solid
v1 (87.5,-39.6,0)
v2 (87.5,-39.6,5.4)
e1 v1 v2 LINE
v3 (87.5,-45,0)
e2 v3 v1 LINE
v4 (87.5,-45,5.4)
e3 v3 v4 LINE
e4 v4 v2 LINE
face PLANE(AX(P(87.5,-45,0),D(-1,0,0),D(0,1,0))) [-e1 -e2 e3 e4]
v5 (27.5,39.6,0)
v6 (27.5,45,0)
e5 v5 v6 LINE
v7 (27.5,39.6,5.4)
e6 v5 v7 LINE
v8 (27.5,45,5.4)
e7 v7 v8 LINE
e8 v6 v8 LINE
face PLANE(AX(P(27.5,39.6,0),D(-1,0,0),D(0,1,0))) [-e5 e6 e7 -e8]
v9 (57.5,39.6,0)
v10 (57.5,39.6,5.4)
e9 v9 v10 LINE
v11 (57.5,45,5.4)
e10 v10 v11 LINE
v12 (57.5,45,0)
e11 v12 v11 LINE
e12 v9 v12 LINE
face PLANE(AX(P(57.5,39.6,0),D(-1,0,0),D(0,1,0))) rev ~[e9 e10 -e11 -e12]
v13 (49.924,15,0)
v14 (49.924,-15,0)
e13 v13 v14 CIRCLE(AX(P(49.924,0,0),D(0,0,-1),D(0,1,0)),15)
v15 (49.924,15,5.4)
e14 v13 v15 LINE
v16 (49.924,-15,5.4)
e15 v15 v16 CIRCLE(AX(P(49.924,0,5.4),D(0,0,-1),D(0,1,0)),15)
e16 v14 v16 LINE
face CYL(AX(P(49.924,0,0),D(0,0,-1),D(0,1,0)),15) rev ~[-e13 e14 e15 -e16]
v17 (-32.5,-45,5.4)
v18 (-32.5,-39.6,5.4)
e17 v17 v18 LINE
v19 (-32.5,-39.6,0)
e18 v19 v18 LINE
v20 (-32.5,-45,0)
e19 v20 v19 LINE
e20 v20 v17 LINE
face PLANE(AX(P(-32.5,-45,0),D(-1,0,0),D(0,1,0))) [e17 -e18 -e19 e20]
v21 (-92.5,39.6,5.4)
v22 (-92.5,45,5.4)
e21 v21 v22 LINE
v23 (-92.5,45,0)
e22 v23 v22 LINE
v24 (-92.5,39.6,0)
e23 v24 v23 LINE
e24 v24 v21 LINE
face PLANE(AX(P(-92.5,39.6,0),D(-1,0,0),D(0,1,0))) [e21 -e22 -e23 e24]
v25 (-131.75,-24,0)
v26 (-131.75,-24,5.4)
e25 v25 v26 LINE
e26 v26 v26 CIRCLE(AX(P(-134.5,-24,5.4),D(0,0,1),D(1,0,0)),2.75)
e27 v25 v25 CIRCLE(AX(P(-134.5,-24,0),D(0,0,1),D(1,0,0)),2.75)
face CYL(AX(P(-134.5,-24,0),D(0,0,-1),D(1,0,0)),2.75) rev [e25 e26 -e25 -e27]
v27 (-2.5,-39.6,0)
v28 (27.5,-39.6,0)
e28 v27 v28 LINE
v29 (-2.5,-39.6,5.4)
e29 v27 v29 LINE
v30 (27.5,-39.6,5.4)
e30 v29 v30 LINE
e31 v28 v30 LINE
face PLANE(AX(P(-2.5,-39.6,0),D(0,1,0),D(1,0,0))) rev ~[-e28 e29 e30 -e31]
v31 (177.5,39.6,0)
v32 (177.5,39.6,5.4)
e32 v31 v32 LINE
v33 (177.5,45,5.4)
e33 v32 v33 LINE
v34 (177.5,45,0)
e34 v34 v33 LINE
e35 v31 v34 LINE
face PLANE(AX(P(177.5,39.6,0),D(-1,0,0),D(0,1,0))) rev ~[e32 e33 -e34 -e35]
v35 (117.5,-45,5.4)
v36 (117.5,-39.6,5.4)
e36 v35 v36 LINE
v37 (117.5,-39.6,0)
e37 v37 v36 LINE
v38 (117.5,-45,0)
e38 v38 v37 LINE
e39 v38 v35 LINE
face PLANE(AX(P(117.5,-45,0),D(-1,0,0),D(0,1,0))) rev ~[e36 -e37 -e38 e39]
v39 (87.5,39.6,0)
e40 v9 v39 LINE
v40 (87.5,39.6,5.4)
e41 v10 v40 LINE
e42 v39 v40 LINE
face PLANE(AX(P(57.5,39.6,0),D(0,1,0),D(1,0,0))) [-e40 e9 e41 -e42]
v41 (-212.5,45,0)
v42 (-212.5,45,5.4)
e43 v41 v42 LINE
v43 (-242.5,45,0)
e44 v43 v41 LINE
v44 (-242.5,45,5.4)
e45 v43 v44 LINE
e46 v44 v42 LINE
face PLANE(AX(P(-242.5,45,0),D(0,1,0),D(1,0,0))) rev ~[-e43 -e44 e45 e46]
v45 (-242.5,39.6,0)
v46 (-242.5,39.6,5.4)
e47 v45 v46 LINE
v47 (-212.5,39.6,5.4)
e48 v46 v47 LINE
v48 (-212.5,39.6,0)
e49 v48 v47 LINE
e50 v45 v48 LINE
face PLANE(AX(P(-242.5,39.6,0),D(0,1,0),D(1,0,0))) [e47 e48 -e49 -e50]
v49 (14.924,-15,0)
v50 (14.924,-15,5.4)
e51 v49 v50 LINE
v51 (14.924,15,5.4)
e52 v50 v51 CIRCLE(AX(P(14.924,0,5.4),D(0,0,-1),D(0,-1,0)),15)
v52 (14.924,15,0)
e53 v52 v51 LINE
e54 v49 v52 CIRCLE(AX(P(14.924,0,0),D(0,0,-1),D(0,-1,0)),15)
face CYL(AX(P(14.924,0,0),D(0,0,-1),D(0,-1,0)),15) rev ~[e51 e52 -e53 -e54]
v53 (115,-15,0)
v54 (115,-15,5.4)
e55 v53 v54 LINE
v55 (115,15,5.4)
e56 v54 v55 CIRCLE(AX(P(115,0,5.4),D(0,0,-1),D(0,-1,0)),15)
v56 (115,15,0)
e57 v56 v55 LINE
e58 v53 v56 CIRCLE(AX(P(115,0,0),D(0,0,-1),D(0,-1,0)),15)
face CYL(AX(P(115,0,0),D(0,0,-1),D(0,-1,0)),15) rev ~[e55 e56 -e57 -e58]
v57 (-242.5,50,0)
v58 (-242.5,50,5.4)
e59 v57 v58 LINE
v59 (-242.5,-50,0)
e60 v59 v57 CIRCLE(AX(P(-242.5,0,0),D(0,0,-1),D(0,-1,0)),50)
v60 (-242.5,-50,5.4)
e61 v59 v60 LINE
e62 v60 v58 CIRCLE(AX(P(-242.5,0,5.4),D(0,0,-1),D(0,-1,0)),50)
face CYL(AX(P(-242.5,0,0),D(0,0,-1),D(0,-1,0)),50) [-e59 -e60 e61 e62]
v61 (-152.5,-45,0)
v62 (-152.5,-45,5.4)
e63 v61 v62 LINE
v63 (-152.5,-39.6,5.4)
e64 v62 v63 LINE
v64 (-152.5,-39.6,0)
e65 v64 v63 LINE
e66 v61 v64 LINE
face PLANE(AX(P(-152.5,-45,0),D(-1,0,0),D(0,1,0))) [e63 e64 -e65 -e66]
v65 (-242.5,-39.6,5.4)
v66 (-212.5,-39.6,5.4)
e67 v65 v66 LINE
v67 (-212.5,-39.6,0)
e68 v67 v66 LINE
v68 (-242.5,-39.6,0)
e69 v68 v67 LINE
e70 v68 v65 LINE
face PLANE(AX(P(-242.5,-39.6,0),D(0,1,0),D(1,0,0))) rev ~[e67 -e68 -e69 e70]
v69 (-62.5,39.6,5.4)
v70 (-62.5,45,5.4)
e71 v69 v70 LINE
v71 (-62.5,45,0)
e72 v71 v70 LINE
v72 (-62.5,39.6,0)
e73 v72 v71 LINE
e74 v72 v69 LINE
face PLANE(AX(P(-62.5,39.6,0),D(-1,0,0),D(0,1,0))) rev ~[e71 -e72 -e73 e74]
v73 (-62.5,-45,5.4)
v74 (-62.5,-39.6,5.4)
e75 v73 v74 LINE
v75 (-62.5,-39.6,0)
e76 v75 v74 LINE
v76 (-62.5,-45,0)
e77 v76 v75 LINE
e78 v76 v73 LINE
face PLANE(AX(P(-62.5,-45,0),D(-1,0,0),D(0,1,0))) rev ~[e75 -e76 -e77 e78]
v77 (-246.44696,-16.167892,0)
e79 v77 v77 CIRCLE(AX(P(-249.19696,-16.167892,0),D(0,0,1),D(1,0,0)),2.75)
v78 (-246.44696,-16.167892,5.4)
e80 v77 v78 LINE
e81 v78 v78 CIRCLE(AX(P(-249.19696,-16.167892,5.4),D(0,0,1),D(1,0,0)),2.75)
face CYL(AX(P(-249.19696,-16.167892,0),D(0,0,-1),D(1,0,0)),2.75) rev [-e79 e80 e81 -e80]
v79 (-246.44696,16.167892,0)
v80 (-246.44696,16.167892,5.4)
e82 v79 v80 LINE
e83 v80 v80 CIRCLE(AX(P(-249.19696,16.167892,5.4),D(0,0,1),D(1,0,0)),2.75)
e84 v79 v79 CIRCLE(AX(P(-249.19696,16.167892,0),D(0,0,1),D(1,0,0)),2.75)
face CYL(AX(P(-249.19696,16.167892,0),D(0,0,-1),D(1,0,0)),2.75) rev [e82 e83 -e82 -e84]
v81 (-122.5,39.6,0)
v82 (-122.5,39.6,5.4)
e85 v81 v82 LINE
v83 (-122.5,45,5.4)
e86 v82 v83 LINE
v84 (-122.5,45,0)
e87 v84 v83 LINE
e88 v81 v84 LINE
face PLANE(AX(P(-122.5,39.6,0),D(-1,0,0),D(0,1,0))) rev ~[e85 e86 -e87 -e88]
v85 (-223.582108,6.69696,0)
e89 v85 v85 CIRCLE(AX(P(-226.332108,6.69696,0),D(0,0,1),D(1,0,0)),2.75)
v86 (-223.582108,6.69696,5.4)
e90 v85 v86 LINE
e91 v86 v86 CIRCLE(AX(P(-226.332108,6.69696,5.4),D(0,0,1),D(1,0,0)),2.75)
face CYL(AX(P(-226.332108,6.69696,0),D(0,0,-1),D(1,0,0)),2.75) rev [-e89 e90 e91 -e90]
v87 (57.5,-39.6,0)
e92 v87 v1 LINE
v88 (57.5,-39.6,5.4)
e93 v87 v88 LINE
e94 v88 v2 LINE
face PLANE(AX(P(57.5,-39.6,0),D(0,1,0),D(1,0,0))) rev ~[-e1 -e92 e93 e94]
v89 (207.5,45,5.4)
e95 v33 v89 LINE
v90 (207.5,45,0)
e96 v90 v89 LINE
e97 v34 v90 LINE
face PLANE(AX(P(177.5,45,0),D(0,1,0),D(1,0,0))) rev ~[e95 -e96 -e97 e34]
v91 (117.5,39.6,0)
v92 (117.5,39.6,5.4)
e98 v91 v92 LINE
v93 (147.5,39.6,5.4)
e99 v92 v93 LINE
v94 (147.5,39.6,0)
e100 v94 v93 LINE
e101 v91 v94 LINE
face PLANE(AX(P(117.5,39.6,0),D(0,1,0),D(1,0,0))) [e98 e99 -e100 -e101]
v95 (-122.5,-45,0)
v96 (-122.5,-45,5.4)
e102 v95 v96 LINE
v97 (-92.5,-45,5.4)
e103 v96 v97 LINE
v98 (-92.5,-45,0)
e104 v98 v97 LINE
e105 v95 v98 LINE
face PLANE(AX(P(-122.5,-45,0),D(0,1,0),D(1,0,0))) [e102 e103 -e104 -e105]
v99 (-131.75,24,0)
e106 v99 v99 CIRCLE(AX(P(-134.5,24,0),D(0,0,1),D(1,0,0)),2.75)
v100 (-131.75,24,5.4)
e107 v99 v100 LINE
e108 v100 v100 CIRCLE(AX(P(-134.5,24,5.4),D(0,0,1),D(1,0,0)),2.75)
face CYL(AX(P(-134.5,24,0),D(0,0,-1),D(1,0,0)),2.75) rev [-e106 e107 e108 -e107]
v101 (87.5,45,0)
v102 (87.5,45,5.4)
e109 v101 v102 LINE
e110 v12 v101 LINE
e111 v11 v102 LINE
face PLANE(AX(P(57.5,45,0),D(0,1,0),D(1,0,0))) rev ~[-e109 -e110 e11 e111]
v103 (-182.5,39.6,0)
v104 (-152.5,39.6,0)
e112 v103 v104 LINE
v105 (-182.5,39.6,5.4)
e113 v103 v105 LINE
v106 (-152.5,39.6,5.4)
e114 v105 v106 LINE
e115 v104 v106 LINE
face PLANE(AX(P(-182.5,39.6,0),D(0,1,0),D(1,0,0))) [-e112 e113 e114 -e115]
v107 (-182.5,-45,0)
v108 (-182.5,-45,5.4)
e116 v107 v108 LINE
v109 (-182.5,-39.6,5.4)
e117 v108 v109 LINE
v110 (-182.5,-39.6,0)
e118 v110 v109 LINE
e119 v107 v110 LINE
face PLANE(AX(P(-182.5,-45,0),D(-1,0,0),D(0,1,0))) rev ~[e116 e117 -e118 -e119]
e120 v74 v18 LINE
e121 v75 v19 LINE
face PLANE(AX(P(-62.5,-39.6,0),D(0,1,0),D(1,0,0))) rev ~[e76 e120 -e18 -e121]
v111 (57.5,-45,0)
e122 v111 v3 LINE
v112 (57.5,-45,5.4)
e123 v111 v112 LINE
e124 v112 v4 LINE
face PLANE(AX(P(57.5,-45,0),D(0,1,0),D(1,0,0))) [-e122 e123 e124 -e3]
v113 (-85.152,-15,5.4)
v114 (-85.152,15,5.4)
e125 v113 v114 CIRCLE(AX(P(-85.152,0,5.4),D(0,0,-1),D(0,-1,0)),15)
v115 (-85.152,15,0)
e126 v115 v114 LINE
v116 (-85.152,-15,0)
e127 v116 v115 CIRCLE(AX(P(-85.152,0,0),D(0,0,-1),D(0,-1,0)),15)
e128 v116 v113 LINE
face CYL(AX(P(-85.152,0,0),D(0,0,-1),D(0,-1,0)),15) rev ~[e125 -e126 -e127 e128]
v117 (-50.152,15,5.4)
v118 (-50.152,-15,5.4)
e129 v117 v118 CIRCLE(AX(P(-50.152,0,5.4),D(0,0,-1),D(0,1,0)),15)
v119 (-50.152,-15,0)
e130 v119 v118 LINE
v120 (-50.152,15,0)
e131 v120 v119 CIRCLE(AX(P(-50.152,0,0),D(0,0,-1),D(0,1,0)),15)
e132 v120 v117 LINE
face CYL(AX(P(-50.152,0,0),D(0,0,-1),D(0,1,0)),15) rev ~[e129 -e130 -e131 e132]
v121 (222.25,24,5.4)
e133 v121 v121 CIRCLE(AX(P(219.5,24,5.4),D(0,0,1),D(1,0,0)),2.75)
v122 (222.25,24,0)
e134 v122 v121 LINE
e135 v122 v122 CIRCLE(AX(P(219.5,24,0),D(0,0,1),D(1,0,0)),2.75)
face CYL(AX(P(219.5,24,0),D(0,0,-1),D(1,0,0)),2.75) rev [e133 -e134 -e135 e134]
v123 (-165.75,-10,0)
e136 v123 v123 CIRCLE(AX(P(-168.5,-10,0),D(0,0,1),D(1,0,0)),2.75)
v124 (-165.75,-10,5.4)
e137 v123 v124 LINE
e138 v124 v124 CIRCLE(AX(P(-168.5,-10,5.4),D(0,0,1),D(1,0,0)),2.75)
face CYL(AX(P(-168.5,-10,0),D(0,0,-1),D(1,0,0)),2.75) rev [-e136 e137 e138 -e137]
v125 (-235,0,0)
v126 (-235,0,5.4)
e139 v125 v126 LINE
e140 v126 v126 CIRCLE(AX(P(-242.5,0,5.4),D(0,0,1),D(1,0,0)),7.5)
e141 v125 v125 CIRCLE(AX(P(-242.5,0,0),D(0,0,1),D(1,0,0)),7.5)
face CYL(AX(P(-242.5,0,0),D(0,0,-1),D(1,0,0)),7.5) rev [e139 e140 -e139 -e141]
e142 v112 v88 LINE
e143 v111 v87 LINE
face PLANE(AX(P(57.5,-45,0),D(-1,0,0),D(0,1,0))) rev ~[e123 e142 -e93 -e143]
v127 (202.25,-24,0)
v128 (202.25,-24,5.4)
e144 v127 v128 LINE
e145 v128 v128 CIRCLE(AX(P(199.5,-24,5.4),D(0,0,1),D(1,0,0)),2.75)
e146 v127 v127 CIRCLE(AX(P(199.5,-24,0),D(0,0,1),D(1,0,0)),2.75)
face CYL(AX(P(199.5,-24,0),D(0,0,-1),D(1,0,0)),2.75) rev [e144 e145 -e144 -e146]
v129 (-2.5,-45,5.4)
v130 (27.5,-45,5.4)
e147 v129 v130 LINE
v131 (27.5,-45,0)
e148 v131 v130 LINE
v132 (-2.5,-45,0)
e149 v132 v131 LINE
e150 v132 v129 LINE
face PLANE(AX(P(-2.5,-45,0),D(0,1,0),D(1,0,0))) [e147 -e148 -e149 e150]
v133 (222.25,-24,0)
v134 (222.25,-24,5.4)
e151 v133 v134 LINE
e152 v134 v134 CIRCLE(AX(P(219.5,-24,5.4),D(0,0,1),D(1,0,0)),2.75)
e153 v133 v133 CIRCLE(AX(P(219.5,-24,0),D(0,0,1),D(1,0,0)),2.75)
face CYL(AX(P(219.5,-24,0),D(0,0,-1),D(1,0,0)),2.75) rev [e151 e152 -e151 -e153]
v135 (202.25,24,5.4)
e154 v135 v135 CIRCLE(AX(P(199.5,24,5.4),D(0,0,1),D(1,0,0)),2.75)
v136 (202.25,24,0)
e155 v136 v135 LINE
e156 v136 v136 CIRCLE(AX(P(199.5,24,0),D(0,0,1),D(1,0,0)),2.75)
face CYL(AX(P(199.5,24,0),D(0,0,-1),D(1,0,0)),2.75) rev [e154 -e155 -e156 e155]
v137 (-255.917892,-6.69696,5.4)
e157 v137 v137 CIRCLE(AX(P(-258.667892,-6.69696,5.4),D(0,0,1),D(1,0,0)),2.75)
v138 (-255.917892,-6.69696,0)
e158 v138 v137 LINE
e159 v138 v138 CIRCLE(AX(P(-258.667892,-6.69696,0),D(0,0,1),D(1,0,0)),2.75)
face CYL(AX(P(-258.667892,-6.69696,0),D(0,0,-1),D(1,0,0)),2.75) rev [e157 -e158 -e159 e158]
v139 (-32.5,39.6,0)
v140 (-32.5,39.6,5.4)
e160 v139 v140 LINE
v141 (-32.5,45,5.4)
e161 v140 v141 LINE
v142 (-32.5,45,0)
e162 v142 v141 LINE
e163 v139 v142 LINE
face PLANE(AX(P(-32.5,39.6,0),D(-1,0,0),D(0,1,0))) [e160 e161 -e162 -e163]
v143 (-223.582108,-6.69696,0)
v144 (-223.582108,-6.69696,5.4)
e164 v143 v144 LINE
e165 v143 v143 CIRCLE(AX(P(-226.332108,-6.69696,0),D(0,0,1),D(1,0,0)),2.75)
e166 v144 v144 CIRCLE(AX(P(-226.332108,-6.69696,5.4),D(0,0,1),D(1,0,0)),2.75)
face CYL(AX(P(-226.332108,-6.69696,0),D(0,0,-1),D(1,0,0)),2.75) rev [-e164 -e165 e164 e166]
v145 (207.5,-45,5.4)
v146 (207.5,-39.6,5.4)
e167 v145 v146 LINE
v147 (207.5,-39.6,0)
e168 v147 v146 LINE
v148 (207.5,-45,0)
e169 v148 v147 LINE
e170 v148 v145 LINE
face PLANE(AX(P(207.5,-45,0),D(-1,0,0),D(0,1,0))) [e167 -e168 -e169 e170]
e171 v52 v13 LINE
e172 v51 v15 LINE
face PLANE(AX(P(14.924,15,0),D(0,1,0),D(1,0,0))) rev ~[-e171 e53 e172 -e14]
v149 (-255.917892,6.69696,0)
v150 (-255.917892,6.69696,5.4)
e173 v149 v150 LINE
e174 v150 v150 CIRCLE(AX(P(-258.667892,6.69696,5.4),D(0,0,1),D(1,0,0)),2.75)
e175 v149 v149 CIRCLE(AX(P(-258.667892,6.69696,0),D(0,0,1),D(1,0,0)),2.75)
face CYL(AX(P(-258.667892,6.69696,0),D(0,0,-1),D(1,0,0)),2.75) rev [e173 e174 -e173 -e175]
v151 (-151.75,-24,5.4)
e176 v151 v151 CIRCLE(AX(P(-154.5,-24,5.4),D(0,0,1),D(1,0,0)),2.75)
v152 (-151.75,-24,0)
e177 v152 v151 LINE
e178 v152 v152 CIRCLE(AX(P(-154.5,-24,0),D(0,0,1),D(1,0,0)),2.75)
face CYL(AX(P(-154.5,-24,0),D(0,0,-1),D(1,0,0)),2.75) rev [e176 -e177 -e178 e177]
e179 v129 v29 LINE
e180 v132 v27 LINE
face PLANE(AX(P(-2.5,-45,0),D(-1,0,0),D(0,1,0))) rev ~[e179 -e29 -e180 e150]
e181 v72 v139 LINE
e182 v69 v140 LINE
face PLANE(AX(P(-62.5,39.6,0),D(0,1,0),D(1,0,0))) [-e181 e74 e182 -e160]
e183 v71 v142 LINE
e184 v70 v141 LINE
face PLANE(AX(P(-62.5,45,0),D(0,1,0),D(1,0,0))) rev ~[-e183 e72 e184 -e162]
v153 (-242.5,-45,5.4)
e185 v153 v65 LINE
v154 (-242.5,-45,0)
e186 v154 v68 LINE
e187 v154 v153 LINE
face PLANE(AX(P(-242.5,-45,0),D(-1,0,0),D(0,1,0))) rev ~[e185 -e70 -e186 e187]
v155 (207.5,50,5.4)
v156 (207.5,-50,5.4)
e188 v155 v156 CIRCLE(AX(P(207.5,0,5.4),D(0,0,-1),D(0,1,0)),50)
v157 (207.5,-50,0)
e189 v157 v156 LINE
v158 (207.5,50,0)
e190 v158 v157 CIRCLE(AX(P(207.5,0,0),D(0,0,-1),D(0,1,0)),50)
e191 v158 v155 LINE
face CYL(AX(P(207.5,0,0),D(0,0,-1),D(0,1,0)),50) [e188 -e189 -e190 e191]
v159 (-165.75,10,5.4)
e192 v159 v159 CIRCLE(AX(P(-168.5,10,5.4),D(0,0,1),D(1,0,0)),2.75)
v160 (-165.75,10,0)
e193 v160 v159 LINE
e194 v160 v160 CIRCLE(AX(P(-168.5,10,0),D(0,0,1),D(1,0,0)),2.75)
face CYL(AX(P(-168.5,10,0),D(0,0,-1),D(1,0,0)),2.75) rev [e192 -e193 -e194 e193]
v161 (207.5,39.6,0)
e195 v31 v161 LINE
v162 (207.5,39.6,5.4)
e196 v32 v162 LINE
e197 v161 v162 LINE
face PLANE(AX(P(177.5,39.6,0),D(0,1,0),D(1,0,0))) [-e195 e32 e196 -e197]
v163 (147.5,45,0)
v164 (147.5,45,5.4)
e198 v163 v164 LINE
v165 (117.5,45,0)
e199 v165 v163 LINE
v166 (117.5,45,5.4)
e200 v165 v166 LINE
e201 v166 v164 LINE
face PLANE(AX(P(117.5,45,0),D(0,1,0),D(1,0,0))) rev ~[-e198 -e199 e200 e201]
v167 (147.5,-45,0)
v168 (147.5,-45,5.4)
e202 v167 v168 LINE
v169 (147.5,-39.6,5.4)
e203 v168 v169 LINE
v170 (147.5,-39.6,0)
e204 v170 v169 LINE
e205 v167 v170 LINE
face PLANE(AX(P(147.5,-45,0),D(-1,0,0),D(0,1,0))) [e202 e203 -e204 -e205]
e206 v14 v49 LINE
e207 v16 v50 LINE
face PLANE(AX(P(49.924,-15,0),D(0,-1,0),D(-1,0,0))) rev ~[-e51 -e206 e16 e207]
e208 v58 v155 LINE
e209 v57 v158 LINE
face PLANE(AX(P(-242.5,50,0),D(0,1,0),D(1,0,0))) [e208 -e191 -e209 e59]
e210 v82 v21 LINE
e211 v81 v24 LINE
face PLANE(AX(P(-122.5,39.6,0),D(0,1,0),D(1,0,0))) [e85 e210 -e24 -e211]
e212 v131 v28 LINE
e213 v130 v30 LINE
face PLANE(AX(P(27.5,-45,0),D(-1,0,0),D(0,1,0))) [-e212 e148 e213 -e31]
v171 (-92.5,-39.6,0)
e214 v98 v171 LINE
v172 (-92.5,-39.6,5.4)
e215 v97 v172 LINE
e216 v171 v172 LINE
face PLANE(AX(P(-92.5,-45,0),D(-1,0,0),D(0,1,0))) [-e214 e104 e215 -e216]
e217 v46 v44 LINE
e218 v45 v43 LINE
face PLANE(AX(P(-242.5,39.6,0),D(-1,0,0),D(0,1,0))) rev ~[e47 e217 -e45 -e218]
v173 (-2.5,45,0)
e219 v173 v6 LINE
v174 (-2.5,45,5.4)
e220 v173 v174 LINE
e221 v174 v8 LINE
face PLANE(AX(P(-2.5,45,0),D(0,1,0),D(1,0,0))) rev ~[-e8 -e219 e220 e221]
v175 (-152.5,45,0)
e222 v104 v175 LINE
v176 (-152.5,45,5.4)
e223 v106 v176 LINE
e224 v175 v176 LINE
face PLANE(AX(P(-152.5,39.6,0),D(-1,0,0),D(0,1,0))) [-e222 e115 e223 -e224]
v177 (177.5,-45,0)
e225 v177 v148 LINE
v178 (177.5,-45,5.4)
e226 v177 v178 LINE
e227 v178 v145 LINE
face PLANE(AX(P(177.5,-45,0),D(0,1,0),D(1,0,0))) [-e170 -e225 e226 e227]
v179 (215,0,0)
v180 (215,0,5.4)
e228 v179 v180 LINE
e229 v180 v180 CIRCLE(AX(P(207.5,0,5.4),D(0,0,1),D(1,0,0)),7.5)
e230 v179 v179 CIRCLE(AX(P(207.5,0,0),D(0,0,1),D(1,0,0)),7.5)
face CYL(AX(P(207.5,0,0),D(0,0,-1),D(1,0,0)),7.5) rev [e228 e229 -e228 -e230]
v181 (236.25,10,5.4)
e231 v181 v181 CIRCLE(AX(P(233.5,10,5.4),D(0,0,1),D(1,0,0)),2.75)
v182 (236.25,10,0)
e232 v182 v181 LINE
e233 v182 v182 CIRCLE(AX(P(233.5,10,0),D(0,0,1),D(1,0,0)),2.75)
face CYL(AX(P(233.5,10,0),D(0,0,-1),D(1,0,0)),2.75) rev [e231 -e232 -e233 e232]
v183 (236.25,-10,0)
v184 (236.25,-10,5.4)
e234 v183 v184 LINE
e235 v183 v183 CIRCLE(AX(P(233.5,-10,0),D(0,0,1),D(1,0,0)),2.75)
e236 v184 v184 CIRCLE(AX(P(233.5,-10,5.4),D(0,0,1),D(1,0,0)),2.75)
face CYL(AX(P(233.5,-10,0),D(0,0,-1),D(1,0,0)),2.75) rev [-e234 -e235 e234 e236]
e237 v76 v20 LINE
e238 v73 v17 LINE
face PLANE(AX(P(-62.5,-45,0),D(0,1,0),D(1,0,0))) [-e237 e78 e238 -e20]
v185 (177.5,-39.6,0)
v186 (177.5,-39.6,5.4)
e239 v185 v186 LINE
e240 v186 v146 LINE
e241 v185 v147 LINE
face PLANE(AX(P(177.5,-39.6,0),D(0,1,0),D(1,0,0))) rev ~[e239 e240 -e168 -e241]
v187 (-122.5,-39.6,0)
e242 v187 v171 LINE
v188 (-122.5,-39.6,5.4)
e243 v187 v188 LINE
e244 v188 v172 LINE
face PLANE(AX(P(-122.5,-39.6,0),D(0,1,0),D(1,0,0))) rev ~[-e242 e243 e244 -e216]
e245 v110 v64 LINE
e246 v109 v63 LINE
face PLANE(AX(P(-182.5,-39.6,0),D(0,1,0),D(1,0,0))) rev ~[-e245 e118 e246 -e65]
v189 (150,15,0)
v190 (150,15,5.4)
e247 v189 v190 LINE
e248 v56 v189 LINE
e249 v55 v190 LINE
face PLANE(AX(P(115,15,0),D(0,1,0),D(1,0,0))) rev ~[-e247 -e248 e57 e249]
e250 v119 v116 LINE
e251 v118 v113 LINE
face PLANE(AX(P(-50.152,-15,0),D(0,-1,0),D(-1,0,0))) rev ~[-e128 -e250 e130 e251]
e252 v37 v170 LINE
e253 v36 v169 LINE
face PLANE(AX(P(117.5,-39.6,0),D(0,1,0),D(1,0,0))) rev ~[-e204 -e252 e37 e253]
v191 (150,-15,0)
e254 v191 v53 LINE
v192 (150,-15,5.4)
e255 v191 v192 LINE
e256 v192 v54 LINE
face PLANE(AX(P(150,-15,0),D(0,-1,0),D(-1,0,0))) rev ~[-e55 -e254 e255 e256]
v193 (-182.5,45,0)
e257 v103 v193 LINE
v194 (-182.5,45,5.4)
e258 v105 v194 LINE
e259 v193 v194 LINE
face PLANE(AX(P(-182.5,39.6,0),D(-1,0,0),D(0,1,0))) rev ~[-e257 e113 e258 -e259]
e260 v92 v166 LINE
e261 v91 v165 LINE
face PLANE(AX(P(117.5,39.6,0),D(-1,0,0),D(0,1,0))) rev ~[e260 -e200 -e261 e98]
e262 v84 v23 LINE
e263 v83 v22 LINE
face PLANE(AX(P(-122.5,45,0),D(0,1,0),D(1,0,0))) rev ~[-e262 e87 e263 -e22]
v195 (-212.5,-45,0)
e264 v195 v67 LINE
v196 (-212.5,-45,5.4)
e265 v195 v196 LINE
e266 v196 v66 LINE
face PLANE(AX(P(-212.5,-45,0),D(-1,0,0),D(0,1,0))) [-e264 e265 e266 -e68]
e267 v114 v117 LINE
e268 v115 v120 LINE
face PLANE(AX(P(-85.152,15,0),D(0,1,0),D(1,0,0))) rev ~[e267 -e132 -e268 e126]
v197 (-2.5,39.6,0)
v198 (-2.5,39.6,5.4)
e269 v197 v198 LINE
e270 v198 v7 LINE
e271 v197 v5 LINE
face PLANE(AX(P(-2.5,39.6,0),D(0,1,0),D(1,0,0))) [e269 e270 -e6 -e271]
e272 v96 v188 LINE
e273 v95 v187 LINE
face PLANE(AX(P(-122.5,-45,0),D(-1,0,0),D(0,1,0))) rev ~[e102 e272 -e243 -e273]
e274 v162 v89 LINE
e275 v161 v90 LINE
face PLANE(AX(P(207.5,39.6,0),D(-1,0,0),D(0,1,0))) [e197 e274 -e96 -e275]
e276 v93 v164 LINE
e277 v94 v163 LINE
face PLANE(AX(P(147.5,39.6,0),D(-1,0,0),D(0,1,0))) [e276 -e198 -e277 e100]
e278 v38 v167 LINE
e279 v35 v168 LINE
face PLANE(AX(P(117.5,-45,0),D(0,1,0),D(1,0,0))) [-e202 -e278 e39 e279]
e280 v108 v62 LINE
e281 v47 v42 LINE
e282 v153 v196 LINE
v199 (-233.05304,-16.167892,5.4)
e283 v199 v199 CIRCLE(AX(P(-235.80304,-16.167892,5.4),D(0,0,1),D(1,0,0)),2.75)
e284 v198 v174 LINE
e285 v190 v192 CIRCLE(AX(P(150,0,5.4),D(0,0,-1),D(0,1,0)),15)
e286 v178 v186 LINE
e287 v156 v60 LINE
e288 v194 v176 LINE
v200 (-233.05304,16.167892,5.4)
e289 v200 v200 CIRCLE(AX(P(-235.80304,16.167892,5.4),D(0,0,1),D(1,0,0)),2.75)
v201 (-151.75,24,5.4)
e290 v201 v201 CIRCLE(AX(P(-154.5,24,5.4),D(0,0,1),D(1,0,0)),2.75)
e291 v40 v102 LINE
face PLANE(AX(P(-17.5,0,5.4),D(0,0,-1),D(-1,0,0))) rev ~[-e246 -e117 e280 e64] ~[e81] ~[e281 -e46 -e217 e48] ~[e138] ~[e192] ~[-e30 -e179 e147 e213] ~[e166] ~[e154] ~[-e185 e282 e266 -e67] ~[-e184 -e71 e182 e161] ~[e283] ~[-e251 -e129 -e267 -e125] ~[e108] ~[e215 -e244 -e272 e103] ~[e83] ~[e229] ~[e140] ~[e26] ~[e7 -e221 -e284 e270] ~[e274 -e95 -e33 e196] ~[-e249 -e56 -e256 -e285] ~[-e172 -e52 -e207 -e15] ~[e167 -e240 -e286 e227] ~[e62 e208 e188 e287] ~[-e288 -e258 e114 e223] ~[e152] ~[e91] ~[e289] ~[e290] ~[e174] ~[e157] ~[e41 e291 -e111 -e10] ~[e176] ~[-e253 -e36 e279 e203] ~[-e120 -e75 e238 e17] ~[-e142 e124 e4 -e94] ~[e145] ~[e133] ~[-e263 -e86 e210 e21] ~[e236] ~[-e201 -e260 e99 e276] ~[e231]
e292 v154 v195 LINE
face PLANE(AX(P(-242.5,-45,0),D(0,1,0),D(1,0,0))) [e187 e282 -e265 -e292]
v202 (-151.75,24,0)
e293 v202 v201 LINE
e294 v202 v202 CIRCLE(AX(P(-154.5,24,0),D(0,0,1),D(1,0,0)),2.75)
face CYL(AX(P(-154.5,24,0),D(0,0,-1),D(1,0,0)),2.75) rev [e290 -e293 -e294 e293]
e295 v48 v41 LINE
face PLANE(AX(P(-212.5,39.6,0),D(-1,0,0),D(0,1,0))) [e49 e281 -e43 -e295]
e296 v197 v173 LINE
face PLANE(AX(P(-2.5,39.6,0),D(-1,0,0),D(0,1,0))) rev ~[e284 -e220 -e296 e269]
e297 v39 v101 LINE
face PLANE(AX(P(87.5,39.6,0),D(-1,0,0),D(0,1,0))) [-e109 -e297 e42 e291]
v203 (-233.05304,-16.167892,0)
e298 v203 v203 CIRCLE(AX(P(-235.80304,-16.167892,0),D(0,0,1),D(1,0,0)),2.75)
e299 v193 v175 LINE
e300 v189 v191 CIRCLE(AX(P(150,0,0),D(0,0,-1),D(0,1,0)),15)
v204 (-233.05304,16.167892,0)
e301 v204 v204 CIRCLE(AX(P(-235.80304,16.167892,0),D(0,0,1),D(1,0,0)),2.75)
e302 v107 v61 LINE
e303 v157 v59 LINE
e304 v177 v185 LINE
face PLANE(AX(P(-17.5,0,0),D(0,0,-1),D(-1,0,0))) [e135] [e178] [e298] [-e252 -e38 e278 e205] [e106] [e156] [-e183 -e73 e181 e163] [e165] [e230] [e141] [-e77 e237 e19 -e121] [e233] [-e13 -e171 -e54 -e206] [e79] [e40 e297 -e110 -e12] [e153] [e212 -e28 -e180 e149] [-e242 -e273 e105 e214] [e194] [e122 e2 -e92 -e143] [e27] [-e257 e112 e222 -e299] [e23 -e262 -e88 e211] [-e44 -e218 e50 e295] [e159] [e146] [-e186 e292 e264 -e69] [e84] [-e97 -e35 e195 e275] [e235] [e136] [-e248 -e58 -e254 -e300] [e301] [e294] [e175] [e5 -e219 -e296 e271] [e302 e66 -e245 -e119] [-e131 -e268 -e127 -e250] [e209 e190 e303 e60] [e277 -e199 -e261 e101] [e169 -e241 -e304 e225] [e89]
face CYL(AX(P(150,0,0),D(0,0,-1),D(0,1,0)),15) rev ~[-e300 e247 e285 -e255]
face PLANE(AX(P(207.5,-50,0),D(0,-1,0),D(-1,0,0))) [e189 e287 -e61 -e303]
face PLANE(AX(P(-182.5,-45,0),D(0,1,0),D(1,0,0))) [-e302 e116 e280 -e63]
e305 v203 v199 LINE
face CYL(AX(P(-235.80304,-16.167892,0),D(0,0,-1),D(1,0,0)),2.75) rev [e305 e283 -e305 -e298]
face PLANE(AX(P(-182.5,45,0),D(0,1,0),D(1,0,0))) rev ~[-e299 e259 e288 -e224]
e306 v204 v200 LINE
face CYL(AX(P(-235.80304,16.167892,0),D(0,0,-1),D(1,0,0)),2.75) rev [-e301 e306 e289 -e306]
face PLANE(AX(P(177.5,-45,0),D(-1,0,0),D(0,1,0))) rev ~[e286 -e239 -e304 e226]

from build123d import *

# Parameters (mm, degrees)
SKETCH3_R           = 7.5
SKETCH3_R_2         = 2.75
SKETCH3_W           = 30
SKETCH3_H           = 5.4
BOSS_EXTRUDE1_DEPTH = 5.4


with BuildPart() as part:
    # Sketch3 → Boss-Extrude1 (new body)
    with BuildSketch(Plane.XY):
        with BuildLine():
            Line((-242.5, 50), (207.5, 50))
            ThreePointArc((207.5, 50), (257.5, 0), (207.5, -50))
            Line((207.5, -50), (-242.5, -50))
            ThreePointArc((-242.5, -50), (-292.5, 0), (-242.5, 50))
        make_face()
        with Locations((-242.5, 0)):
            Circle(SKETCH3_R, mode=Mode.SUBTRACT)
        with Locations((207.5, 0)):
            Circle(SKETCH3_R, mode=Mode.SUBTRACT)
        with Locations((-226.332108181, 6.696960066)):
            Circle(SKETCH3_R_2, mode=Mode.SUBTRACT)
        with Locations((-226.332108181, -6.696960066)):
            Circle(SKETCH3_R_2, mode=Mode.SUBTRACT)
        with Locations((-235.803039934, -16.167891819)):
            Circle(SKETCH3_R_2, mode=Mode.SUBTRACT)
        with Locations((-249.196960066, -16.167891819)):
            Circle(SKETCH3_R_2, mode=Mode.SUBTRACT)
        with Locations((-258.667891819, -6.696960066)):
            Circle(SKETCH3_R_2, mode=Mode.SUBTRACT)
        with Locations((-258.667891819, 6.696960066)):
            Circle(SKETCH3_R_2, mode=Mode.SUBTRACT)
        with Locations((-249.196960066, 16.167891819)):
            Circle(SKETCH3_R_2, mode=Mode.SUBTRACT)
        with Locations((-235.803039934, 16.167891819)):
            Circle(SKETCH3_R_2, mode=Mode.SUBTRACT)
        with Locations((-134.5, -24)):
            Circle(SKETCH3_R_2, mode=Mode.SUBTRACT)
        with Locations((-154.5, -24)):
            Circle(SKETCH3_R_2, mode=Mode.SUBTRACT)
        with Locations((-168.5, -10)):
            Circle(SKETCH3_R_2, mode=Mode.SUBTRACT)
        with Locations((-168.5, 10)):
            Circle(SKETCH3_R_2, mode=Mode.SUBTRACT)
        with Locations((-154.5, 24)):
            Circle(SKETCH3_R_2, mode=Mode.SUBTRACT)
        with Locations((-134.5, 24)):
            Circle(SKETCH3_R_2, mode=Mode.SUBTRACT)
        with Locations((199.5, -24)):
            Circle(SKETCH3_R_2, mode=Mode.SUBTRACT)
        with Locations((219.5, -24)):
            Circle(SKETCH3_R_2, mode=Mode.SUBTRACT)
        with Locations((233.5, -10)):
            Circle(SKETCH3_R_2, mode=Mode.SUBTRACT)
        with Locations((233.5, 10)):
            Circle(SKETCH3_R_2, mode=Mode.SUBTRACT)
        with Locations((219.5, 24)):
            Circle(SKETCH3_R_2, mode=Mode.SUBTRACT)
        with Locations((199.5, 24)):
            Circle(SKETCH3_R_2, mode=Mode.SUBTRACT)
        with BuildLine():
            Line((115, 15), (150, 15))
            ThreePointArc((150, 15), (165, 0), (150, -15))
            Line((150, -15), (115, -15))
            ThreePointArc((115, -15), (100, 0), (115, 15))
        make_face(mode=Mode.SUBTRACT)
        with Locations((-227.5, 42.3)):
            Rectangle(SKETCH3_W, SKETCH3_H, mode=Mode.SUBTRACT)
        with Locations((-167.5, 42.3)):
            Rectangle(SKETCH3_W, SKETCH3_H, mode=Mode.SUBTRACT)
        with BuildLine():
            Line((14.924, 15), (49.924, 15))
            ThreePointArc((49.924, 15), (64.924, 0), (49.924, -15))
            Line((49.924, -15), (14.924, -15))
            ThreePointArc((14.924, -15), (-0.076, 0), (14.924, 15))
        make_face(mode=Mode.SUBTRACT)
        with BuildLine():
            Line((-85.152, 15), (-50.152, 15))
            ThreePointArc((-50.152, 15), (-35.152, 0), (-50.152, -15))
            Line((-50.152, -15), (-85.152, -15))
            ThreePointArc((-85.152, -15), (-100.152, 0), (-85.152, 15))
        make_face(mode=Mode.SUBTRACT)
        with Locations((-107.5, 42.3)):
            Rectangle(SKETCH3_W, SKETCH3_H, mode=Mode.SUBTRACT)
        with Locations((-47.5, 42.3)):
            Rectangle(SKETCH3_W, SKETCH3_H, mode=Mode.SUBTRACT)
        with Locations((12.5, 42.3)):
            Rectangle(SKETCH3_W, SKETCH3_H, mode=Mode.SUBTRACT)
        with Locations((72.5, 42.3)):
            Rectangle(SKETCH3_W, SKETCH3_H, mode=Mode.SUBTRACT)
        with Locations((132.5, 42.3)):
            Rectangle(SKETCH3_W, SKETCH3_H, mode=Mode.SUBTRACT)
        with Locations((192.5, 42.3)):
            Rectangle(SKETCH3_W, SKETCH3_H, mode=Mode.SUBTRACT)
        with Locations((192.5, -42.3)):
            Rectangle(SKETCH3_W, SKETCH3_H, mode=Mode.SUBTRACT)
        with Locations((132.5, -42.3)):
            Rectangle(SKETCH3_W, SKETCH3_H, mode=Mode.SUBTRACT)
        with Locations((72.5, -42.3)):
            Rectangle(SKETCH3_W, SKETCH3_H, mode=Mode.SUBTRACT)
        with Locations((12.5, -42.3)):
            Rectangle(SKETCH3_W, SKETCH3_H, mode=Mode.SUBTRACT)
        with Locations((-47.5, -42.3)):
            Rectangle(SKETCH3_W, SKETCH3_H, mode=Mode.SUBTRACT)
        with Locations((-107.5, -42.3)):
            Rectangle(SKETCH3_W, SKETCH3_H, mode=Mode.SUBTRACT)
        with Locations((-167.5, -42.3)):
            Rectangle(SKETCH3_W, SKETCH3_H, mode=Mode.SUBTRACT)
        with Locations((-227.5, -42.3)):
            Rectangle(SKETCH3_W, SKETCH3_H, mode=Mode.SUBTRACT)
    extrude(amount=BOSS_EXTRUDE1_DEPTH)


solid = part.part
